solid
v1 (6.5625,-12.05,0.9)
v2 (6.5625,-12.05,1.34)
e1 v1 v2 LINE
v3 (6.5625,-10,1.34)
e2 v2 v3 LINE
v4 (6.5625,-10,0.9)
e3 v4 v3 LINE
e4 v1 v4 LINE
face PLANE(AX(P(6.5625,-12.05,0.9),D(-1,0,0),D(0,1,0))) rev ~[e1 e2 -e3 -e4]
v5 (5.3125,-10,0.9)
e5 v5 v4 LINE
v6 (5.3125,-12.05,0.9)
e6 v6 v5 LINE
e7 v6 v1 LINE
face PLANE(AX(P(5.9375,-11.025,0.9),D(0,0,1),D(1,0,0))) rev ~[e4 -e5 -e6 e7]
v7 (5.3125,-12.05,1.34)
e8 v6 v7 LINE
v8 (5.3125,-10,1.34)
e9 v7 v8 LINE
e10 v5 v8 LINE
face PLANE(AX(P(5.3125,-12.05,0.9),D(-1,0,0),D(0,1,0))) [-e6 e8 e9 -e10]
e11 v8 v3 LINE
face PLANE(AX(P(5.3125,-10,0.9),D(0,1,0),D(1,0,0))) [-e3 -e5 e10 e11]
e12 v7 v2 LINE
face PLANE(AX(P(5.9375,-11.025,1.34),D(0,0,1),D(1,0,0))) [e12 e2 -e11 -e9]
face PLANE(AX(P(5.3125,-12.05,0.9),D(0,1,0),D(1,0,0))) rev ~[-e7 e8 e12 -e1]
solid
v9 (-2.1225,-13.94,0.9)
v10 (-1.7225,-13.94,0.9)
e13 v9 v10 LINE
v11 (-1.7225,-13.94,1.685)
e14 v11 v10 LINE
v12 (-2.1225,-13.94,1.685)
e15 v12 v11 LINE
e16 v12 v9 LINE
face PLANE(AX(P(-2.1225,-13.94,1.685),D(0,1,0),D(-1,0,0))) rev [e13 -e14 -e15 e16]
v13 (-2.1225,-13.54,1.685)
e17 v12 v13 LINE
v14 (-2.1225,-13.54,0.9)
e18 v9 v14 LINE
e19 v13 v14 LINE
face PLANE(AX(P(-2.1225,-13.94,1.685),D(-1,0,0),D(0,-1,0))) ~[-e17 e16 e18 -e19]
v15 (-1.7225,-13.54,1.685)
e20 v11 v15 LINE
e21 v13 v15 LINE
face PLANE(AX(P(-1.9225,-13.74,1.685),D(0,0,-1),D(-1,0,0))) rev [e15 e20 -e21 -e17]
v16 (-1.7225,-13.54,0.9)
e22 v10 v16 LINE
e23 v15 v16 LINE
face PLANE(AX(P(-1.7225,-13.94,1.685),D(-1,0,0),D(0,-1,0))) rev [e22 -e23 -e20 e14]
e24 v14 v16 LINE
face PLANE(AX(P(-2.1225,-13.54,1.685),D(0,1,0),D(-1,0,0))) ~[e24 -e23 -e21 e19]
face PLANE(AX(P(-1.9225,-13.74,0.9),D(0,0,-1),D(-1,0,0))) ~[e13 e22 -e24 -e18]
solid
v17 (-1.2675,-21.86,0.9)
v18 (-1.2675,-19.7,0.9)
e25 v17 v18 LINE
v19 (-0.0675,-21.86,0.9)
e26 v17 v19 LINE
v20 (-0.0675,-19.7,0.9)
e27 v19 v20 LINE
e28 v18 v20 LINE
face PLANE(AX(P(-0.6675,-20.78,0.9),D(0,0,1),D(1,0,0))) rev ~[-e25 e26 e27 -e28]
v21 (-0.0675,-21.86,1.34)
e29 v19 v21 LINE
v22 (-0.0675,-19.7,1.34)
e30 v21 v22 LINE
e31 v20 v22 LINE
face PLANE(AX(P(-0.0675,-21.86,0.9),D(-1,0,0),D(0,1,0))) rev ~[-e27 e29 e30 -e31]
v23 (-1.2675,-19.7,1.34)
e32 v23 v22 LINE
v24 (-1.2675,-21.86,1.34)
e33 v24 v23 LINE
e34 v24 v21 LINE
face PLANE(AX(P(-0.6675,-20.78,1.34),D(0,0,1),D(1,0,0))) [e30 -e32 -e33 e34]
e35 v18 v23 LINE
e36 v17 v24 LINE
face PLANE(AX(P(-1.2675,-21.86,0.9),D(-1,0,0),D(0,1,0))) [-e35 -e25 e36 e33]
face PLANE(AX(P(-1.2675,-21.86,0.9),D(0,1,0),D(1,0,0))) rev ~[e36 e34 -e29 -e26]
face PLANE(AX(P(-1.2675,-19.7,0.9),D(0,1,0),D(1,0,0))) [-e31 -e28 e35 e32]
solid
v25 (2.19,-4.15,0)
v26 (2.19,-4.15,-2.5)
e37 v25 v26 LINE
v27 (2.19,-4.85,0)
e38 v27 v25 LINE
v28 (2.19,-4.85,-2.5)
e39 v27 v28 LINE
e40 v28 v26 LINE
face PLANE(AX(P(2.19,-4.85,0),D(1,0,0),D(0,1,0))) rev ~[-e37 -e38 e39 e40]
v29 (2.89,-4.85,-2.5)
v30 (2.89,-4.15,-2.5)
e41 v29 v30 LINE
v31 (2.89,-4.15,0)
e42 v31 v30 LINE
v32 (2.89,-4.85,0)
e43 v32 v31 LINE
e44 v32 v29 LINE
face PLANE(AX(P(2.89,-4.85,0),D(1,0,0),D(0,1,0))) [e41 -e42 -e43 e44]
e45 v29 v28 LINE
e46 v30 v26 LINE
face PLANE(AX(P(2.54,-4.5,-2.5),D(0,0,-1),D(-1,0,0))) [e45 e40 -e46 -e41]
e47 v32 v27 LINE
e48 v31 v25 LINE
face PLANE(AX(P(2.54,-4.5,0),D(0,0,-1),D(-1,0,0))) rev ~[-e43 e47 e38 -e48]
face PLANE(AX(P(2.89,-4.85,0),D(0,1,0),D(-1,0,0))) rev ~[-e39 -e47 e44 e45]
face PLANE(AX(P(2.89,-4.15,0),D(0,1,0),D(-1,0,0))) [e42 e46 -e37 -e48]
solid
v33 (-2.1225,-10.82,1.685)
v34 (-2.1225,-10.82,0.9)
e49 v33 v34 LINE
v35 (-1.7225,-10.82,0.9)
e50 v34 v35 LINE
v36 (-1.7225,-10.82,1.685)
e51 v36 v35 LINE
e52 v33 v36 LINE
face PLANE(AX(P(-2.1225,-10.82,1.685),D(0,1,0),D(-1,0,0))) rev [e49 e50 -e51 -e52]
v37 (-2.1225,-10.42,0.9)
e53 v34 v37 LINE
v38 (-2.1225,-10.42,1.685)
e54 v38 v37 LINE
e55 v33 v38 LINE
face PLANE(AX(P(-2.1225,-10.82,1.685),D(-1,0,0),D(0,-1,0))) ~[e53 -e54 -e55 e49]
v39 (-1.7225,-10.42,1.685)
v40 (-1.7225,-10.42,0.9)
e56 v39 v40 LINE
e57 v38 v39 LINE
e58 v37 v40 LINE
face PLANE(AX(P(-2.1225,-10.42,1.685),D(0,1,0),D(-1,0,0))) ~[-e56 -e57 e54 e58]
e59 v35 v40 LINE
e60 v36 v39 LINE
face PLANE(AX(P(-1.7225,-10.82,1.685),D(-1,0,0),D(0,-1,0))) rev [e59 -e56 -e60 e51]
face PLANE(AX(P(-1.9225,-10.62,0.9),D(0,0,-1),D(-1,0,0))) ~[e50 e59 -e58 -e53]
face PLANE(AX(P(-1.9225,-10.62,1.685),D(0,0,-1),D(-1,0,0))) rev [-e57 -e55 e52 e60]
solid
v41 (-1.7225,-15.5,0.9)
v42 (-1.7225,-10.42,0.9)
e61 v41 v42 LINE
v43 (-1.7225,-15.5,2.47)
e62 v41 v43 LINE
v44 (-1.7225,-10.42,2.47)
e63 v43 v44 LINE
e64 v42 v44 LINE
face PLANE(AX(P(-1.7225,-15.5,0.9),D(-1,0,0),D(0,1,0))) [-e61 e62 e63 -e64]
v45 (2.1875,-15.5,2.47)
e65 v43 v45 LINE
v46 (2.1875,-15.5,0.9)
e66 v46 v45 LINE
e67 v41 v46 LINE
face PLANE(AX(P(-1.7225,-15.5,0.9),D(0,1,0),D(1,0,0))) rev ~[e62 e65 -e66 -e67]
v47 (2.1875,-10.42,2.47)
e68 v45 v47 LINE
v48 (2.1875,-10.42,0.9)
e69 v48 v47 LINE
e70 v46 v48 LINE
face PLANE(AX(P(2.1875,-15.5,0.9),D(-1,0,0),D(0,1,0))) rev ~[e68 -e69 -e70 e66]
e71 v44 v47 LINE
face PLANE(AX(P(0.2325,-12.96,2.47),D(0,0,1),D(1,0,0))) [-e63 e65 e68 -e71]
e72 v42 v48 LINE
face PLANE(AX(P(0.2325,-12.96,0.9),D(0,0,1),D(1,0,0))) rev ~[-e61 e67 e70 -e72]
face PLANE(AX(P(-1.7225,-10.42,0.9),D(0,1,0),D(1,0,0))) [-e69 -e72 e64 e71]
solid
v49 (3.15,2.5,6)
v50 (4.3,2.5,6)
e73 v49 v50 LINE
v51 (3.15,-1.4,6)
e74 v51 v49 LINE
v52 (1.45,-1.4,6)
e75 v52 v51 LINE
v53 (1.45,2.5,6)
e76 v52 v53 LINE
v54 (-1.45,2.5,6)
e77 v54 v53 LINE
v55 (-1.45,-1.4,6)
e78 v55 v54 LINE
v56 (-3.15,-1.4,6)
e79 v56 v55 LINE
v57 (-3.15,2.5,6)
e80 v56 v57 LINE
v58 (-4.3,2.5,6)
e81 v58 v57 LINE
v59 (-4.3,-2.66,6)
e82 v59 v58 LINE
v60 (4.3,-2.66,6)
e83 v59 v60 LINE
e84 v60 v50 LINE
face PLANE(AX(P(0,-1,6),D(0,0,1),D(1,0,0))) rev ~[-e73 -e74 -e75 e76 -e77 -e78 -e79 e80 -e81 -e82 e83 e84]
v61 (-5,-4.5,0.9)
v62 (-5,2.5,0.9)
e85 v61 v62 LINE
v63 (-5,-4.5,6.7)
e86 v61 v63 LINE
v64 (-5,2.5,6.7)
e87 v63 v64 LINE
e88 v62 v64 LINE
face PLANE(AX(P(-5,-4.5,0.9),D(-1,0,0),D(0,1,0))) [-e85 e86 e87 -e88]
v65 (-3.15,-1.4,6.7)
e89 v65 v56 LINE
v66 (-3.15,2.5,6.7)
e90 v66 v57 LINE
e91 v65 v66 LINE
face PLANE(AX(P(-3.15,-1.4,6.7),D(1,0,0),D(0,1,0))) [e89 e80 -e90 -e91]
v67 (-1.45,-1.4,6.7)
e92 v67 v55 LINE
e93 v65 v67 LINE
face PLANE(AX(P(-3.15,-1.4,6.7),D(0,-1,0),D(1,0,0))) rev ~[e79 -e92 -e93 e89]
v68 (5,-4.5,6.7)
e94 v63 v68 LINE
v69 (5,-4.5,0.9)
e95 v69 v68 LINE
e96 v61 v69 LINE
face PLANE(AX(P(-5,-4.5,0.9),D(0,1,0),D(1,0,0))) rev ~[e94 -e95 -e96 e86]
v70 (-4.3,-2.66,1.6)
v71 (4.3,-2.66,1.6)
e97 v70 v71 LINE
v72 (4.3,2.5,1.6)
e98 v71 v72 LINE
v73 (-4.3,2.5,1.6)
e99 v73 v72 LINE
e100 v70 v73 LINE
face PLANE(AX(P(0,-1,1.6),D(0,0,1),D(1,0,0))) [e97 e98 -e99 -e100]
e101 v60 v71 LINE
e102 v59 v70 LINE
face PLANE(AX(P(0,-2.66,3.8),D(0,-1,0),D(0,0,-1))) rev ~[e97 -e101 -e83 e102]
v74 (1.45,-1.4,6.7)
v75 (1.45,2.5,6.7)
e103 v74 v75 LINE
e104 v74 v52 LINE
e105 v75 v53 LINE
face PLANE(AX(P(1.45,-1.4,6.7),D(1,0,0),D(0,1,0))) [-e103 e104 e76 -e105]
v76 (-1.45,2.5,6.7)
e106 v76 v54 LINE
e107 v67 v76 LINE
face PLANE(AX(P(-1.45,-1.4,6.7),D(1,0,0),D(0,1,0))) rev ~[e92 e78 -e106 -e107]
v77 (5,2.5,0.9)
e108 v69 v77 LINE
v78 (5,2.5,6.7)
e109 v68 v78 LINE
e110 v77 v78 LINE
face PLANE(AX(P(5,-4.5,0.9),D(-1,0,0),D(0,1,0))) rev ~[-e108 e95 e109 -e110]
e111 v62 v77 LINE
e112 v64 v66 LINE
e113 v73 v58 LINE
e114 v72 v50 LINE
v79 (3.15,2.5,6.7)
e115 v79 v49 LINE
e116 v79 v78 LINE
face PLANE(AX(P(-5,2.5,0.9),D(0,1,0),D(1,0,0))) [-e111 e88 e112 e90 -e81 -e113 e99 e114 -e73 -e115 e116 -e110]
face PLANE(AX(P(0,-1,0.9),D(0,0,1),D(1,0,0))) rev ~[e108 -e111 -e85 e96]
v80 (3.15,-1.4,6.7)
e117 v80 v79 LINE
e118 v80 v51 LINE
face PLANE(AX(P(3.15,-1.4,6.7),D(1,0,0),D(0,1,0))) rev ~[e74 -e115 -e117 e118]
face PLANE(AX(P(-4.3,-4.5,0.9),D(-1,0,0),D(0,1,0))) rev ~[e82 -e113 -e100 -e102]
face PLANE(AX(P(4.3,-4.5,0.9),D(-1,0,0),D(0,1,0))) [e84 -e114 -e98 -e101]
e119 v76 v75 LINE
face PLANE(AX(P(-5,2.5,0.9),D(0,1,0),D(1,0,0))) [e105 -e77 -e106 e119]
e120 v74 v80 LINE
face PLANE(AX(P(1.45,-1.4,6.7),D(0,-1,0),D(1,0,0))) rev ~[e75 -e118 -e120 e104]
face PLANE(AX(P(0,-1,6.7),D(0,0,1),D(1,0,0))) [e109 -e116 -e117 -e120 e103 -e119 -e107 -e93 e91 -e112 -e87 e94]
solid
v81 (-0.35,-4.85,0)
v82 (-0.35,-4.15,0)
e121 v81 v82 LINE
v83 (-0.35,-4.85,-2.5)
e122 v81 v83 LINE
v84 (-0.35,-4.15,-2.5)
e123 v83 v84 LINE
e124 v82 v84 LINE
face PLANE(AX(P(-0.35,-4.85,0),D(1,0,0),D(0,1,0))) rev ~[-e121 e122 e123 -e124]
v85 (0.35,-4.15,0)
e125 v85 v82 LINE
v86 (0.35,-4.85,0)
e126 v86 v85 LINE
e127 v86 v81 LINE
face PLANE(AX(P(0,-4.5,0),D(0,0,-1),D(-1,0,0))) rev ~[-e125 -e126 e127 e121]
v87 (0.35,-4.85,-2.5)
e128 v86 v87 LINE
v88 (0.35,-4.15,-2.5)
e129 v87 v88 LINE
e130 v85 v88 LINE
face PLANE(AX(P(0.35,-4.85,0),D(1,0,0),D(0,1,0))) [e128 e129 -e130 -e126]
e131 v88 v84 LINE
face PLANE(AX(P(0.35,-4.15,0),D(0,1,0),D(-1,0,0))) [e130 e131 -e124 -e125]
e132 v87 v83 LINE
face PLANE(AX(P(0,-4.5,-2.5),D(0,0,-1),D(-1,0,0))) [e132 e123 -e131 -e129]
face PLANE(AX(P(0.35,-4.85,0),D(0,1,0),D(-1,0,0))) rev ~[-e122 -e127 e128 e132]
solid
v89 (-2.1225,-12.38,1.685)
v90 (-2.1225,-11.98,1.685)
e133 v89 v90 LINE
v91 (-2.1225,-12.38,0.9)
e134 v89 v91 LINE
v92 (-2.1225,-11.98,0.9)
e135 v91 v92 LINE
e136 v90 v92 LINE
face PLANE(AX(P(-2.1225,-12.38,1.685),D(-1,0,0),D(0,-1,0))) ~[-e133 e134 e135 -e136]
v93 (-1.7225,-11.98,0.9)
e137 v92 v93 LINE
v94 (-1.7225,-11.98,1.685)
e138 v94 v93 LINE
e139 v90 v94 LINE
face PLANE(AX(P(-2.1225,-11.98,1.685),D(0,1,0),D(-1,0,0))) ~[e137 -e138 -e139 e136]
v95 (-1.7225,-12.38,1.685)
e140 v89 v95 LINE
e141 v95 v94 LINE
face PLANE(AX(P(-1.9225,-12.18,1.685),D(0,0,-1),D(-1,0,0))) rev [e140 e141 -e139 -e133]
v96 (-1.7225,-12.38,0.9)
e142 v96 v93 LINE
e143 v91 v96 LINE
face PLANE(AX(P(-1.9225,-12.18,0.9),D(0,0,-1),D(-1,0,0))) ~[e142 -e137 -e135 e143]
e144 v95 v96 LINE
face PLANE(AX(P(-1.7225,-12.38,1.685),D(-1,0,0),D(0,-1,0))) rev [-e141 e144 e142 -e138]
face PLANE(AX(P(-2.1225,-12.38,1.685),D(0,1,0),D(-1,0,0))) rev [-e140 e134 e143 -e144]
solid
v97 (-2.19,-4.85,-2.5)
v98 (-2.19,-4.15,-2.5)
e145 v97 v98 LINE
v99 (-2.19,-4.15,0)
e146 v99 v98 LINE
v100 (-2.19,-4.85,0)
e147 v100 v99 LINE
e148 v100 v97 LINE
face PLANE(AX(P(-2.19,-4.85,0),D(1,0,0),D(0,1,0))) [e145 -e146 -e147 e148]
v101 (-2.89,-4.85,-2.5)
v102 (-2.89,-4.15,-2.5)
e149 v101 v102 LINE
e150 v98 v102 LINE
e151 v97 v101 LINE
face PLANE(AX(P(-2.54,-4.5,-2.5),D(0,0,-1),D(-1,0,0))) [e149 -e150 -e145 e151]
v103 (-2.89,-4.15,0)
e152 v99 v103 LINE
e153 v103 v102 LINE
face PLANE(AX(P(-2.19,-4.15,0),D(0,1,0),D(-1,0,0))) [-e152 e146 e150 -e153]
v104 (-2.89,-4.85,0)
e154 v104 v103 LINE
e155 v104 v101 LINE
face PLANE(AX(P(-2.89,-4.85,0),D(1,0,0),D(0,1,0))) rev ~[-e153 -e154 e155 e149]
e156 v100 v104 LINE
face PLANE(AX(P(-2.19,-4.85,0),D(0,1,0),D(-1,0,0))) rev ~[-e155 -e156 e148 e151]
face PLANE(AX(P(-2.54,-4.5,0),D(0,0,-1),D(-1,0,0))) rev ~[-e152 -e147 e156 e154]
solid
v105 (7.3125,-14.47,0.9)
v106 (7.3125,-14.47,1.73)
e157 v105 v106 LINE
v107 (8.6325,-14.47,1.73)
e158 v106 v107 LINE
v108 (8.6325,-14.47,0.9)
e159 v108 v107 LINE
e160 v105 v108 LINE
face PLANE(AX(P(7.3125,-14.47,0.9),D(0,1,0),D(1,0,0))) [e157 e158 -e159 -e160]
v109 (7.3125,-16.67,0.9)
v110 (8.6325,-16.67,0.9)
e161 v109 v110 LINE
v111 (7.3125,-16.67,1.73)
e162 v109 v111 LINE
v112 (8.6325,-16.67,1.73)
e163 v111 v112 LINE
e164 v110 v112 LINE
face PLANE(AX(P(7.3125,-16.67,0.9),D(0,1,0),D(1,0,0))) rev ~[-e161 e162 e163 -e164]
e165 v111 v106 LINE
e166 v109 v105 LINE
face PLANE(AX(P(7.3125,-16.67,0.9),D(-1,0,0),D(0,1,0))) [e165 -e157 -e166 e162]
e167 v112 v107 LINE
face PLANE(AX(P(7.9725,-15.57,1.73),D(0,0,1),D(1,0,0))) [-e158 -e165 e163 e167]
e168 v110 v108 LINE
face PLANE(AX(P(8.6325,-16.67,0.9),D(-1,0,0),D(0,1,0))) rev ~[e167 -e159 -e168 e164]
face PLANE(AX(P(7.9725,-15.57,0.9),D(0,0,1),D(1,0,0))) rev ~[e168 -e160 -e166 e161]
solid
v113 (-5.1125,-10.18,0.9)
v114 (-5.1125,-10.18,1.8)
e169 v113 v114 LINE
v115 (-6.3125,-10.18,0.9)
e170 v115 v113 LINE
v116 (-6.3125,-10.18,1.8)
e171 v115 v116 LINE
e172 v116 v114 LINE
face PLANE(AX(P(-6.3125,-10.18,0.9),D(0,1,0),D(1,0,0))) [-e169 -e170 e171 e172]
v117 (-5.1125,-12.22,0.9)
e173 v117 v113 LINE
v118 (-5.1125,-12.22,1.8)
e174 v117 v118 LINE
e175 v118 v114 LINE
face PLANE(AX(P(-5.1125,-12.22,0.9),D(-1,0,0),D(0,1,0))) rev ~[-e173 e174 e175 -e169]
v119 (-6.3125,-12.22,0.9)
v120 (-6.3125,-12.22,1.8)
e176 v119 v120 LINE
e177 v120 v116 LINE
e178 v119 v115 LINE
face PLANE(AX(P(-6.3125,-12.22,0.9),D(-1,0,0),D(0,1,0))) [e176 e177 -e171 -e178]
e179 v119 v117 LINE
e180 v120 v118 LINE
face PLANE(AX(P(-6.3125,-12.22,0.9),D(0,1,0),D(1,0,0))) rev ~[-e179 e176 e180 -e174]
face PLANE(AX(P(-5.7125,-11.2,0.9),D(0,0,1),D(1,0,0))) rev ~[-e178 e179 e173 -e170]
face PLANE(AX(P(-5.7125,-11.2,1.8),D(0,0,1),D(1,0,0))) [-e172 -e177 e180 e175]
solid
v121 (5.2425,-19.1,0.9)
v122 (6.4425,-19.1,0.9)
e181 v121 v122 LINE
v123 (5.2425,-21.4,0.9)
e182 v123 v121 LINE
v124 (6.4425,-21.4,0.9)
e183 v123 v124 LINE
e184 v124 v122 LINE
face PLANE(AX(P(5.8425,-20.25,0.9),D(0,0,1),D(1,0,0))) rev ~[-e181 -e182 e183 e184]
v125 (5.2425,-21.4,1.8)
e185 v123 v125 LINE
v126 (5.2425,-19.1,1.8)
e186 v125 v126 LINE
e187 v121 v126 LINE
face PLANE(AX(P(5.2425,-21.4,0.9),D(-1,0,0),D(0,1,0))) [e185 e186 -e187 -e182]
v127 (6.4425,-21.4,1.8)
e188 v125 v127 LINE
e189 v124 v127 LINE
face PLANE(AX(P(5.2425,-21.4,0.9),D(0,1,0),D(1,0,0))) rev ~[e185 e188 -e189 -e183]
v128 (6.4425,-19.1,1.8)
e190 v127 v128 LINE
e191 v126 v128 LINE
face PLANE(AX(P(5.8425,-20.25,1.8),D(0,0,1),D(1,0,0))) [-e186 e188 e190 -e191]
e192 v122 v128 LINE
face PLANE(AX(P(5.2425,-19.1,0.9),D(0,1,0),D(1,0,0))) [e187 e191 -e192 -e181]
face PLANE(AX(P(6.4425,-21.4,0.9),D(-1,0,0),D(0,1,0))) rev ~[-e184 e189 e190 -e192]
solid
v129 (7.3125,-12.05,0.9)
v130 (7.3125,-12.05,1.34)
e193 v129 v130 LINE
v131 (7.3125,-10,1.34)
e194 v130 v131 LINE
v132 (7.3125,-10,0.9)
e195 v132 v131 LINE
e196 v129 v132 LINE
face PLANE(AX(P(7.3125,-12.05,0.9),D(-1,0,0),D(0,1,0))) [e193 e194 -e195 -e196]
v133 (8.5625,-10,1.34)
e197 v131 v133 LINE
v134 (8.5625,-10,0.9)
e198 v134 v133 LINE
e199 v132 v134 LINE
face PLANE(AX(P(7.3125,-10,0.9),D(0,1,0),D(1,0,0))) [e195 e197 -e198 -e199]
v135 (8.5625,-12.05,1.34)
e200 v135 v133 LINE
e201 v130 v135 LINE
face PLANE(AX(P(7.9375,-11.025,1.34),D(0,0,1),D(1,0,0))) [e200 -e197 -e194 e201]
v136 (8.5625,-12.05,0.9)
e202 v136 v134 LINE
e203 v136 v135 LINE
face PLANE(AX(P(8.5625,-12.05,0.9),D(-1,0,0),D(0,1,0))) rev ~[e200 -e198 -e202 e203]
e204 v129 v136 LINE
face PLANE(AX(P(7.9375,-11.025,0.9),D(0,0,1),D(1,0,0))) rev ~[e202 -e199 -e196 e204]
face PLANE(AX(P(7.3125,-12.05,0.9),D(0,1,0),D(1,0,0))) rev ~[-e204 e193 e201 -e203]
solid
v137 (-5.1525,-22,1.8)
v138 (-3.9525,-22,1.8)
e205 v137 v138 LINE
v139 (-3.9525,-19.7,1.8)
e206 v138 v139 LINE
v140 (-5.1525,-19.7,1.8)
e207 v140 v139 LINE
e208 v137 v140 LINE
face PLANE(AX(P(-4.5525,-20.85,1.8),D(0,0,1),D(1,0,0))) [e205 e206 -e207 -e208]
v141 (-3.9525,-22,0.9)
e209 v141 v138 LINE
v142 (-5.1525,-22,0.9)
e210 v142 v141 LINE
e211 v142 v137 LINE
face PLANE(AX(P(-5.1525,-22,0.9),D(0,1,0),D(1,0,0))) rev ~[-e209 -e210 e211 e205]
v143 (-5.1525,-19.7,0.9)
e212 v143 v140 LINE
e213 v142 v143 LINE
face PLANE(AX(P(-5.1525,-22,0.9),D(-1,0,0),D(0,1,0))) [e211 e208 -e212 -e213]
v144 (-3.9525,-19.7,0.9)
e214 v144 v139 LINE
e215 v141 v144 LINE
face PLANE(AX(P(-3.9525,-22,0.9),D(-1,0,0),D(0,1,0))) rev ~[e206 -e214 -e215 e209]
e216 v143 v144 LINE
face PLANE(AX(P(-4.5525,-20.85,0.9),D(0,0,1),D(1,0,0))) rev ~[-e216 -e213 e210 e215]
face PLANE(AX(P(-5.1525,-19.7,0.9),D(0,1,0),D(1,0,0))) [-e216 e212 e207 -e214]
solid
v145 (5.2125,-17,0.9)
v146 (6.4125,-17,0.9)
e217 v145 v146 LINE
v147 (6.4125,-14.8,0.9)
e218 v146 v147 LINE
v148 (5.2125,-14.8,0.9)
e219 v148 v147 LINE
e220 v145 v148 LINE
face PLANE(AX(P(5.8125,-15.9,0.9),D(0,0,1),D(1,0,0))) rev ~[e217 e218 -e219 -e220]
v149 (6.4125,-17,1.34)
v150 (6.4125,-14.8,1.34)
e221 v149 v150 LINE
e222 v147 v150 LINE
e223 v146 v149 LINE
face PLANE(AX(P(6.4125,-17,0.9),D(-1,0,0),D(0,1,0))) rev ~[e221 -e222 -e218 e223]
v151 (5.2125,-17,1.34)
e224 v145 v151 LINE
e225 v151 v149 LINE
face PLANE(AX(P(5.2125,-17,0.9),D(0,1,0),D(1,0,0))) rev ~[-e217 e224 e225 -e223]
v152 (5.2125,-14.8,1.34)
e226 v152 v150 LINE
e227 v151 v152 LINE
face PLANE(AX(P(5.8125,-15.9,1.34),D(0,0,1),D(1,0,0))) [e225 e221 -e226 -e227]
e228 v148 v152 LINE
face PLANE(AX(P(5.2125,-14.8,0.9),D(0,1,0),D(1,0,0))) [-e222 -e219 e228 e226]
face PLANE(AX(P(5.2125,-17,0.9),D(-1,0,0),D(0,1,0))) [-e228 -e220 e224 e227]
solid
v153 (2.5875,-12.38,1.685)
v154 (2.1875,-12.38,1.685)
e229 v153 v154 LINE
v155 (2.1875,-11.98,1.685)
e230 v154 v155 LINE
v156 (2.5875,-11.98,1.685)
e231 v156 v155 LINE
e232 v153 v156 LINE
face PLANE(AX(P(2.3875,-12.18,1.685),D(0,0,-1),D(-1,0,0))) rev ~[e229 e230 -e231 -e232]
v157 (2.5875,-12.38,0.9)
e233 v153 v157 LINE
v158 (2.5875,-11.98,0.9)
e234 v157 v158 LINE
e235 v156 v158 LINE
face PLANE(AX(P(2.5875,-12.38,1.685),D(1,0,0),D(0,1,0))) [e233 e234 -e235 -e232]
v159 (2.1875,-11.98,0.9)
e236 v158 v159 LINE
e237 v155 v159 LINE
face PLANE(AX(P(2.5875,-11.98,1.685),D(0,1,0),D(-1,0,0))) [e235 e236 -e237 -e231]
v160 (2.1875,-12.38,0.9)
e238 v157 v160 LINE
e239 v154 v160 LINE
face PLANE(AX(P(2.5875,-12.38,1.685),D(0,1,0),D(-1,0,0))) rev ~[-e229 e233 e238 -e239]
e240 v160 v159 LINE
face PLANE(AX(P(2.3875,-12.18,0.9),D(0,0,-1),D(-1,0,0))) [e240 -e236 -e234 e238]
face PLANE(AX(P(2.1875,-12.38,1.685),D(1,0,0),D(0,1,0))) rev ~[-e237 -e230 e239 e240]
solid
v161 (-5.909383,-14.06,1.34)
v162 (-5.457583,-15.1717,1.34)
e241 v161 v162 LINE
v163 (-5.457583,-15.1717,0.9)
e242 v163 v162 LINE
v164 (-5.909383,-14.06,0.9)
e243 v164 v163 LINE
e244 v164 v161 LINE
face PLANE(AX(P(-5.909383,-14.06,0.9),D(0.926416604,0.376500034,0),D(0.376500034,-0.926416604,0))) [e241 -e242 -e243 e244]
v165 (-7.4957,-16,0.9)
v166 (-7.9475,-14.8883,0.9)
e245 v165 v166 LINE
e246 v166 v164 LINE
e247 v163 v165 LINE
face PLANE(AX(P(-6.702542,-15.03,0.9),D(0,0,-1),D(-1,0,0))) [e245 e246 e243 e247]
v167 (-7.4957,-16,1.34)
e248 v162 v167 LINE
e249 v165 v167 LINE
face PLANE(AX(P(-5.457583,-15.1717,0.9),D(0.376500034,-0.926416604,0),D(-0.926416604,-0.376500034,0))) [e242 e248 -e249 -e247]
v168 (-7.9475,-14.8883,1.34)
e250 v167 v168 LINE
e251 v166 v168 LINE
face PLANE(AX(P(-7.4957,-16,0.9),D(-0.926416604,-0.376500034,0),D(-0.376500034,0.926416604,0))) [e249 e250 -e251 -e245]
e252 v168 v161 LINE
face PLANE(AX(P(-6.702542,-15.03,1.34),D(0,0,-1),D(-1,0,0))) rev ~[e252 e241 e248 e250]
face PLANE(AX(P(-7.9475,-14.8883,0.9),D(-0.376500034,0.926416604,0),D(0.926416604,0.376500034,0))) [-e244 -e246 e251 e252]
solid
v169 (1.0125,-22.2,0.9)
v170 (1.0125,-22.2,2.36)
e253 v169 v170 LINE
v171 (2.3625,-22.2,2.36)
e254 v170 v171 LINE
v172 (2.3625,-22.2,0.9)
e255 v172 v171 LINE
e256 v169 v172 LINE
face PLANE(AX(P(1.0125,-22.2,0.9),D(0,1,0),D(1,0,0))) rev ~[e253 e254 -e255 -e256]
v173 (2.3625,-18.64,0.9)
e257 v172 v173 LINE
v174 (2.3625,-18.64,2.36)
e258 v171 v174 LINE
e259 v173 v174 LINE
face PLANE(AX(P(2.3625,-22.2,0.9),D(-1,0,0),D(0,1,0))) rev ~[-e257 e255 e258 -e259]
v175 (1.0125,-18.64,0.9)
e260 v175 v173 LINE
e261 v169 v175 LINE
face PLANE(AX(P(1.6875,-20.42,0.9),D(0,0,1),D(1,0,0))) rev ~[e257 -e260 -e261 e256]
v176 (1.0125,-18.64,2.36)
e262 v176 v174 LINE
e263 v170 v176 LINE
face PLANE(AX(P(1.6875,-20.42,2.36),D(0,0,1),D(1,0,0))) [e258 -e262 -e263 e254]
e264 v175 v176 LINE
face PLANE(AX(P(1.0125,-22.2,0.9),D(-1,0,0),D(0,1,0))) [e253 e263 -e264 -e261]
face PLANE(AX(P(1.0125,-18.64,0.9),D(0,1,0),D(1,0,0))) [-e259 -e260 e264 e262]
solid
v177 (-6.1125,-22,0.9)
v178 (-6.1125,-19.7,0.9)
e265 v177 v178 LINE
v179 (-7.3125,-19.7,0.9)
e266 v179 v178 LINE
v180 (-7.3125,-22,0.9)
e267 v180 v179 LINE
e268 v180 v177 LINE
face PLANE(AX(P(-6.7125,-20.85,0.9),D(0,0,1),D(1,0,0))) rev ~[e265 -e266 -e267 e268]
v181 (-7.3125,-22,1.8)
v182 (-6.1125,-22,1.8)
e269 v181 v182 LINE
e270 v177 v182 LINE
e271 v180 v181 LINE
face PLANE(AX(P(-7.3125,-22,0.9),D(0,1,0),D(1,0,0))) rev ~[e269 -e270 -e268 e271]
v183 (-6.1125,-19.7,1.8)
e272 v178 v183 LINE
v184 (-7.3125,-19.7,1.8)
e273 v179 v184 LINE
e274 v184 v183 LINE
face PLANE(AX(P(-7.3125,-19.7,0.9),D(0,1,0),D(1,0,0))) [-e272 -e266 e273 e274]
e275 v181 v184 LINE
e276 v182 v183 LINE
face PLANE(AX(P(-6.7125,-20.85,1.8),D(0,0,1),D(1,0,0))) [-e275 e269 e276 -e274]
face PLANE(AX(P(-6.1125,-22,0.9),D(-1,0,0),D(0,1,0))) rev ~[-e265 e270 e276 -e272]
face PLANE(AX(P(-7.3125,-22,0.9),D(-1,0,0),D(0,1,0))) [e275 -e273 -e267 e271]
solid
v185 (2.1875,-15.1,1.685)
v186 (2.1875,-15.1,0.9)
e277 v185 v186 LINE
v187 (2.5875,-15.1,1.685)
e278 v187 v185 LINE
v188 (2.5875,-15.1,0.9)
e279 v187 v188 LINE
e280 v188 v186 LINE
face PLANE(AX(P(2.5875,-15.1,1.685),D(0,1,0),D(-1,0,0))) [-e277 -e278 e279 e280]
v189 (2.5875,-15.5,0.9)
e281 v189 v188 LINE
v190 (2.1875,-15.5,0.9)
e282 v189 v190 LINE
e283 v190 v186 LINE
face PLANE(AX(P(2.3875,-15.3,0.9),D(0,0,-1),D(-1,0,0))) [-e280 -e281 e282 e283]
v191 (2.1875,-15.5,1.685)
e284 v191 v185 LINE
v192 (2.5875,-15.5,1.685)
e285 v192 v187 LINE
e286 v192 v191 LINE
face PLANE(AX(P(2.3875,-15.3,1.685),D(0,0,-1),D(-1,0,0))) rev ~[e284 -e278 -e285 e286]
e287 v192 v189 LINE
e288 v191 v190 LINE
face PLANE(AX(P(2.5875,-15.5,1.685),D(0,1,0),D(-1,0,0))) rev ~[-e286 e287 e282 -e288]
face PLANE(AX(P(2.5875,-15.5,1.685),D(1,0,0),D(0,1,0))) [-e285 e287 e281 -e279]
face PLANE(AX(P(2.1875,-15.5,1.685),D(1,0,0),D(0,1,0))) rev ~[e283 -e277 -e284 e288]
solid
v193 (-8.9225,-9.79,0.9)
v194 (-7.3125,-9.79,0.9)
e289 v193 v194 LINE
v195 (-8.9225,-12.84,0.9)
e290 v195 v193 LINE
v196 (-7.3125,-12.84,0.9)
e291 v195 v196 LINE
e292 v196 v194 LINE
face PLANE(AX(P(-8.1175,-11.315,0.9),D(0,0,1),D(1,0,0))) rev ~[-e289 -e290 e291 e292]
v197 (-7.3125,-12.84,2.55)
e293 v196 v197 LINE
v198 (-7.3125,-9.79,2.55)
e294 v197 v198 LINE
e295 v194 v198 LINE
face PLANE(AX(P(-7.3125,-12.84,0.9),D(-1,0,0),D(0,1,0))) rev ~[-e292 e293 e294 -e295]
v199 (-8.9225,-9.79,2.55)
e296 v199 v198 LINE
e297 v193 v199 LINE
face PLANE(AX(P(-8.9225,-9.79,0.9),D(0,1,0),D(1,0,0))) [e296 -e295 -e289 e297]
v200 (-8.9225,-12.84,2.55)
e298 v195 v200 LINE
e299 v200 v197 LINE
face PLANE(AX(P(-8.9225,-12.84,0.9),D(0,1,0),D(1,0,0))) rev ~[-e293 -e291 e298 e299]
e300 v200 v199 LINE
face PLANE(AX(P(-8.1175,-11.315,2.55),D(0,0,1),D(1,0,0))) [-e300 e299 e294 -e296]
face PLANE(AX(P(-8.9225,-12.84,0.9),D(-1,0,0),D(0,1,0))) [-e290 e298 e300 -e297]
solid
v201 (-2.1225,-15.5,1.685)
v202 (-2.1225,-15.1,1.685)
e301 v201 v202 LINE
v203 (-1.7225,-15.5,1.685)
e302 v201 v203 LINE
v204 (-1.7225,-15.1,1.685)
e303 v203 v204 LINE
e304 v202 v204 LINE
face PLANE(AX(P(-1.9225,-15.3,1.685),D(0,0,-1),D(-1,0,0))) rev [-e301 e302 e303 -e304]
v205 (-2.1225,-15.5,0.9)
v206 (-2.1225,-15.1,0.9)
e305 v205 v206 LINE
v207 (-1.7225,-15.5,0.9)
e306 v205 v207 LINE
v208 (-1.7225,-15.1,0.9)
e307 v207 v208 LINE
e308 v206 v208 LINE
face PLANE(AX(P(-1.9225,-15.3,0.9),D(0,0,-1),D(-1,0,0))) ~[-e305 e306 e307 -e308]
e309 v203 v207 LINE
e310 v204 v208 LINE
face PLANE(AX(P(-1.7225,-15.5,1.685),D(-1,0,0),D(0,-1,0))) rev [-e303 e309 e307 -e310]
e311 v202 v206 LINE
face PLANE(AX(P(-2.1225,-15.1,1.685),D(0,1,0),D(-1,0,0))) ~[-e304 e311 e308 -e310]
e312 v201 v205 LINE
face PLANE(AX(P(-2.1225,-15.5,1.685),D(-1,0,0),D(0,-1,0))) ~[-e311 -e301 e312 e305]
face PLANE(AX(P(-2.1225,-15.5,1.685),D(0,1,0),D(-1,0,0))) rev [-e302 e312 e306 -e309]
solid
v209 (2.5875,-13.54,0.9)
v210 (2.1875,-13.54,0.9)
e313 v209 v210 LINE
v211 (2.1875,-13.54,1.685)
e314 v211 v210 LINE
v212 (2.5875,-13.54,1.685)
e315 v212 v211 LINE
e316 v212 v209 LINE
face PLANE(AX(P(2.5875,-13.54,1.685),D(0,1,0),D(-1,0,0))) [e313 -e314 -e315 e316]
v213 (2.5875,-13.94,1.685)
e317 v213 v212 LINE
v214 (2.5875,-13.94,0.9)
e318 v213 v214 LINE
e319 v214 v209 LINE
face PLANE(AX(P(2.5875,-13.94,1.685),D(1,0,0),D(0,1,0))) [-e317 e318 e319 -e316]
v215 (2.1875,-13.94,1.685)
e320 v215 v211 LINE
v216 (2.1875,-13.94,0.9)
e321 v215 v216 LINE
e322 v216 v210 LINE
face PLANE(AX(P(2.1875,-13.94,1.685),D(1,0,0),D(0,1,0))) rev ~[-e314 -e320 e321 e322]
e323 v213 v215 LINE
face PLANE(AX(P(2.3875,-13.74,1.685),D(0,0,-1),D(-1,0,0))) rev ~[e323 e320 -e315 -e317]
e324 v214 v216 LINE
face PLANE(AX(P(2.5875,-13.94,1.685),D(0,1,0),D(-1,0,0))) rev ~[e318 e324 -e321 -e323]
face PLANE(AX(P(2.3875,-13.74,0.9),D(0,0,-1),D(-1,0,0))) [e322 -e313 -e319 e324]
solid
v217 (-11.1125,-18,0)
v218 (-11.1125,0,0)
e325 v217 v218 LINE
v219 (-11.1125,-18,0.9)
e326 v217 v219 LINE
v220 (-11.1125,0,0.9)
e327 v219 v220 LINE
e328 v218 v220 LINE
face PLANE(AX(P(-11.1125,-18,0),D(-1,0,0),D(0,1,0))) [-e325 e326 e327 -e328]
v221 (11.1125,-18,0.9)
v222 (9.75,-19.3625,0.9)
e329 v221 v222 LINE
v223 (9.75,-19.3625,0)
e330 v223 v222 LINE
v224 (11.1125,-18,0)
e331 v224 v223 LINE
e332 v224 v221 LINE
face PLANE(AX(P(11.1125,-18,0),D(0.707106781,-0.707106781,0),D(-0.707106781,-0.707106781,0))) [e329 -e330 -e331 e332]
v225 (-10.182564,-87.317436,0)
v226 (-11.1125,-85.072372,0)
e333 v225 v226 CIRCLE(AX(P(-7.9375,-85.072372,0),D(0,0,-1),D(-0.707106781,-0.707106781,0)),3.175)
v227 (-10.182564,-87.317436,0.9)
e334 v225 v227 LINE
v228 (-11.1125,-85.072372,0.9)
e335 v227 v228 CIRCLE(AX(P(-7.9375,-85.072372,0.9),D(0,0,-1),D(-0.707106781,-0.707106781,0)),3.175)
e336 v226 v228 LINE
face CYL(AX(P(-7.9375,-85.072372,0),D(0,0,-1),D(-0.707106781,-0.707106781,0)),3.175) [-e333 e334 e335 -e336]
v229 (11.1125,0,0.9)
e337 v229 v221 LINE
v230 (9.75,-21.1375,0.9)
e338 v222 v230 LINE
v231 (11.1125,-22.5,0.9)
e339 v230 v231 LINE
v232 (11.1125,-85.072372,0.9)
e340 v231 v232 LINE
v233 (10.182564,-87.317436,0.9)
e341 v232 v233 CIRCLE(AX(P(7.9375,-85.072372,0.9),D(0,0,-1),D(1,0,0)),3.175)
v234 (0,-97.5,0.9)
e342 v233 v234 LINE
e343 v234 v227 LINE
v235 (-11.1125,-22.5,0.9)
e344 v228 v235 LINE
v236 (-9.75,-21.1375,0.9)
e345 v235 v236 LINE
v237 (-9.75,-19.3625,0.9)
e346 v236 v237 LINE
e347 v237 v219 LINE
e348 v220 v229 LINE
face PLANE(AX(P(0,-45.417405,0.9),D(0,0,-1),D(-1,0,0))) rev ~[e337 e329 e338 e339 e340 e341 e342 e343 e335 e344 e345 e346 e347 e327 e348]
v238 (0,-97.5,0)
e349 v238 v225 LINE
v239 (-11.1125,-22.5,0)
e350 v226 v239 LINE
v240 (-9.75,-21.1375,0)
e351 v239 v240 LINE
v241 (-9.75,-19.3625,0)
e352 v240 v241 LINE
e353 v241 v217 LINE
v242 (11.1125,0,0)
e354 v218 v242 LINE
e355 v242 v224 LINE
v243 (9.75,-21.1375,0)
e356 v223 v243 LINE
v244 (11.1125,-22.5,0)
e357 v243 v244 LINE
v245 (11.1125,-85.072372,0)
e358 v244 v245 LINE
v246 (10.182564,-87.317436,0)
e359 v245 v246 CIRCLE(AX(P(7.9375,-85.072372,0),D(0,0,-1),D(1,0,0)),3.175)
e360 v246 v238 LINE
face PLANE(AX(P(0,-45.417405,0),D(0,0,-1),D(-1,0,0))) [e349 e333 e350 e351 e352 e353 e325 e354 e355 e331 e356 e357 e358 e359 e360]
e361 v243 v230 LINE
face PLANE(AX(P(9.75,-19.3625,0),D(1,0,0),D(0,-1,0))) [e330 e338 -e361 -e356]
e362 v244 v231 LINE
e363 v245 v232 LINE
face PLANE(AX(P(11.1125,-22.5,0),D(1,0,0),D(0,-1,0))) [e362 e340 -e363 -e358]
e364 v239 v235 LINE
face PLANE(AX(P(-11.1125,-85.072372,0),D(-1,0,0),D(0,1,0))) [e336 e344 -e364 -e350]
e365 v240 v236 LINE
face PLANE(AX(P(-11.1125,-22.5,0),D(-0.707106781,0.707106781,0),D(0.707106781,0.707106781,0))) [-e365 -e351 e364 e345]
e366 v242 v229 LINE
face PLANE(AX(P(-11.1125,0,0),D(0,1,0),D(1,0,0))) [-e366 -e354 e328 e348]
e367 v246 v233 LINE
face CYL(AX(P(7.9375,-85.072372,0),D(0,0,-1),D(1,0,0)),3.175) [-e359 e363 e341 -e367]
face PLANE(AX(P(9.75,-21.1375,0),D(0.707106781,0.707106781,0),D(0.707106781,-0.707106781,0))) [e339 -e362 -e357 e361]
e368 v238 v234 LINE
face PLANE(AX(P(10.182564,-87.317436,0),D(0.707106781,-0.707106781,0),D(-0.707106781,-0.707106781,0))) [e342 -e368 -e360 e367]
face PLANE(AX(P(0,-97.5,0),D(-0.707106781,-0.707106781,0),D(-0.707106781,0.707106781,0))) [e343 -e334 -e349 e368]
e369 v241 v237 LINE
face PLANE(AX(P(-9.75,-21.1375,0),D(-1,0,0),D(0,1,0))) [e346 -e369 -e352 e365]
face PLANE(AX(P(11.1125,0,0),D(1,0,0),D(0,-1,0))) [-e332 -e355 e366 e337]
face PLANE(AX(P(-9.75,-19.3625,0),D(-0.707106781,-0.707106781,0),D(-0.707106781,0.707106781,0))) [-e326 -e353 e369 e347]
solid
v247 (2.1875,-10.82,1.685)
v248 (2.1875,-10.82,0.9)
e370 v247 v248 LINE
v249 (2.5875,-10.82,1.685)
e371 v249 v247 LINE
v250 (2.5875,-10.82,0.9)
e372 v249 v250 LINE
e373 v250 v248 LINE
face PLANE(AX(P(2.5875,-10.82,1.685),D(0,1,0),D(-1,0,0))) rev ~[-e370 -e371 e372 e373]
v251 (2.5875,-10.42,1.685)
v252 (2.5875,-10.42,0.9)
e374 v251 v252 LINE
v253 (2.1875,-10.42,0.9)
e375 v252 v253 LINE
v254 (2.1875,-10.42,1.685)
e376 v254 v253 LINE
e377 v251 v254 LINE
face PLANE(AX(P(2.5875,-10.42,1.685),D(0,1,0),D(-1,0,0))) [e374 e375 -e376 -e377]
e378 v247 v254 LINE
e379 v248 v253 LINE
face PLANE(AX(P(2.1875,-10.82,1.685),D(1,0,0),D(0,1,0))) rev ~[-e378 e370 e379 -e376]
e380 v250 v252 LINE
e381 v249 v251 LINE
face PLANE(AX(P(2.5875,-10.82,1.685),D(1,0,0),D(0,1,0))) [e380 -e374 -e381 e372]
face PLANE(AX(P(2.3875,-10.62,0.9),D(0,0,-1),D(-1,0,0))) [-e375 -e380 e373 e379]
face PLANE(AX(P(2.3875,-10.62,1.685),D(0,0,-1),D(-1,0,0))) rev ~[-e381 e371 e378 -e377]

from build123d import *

# Parameters (mm, degrees)
BOSS_EXTRUDE1_DEPTH       = 0.9
SKETCH2_W                 = 3.91
SKETCH2_H                 = 5.08
BOSS_EXTRUDE2_DEPTH       = 1.57
SKETCH2_3_W               = 1.25
SKETCH2_3_H               = 2.05
BOSS_EXTRUDE3_DEPTH       = 0.44
BOSS_EXTRUDE3_2_DEPTH     = 0.44
SKETCH2_3_W_2             = 1.2
SKETCH2_3_H_2             = 2.2
BOSS_EXTRUDE3_3_DEPTH     = 0.44
BOSS_EXTRUDE3_4_DEPTH     = 0.44
SKETCH2_3_H_3             = 2.16
BOSS_EXTRUDE3_5_DEPTH     = 0.44
SKETCH2_4_W               = 1.61
SKETCH2_4_H               = 3.05
BOSS_EXTRUDE4_DEPTH       = 1.65
SKETCH2_5_W               = 1.2
SKETCH2_5_H               = 2.3
BOSS_EXTRUDE5_DEPTH       = 0.9
BOSS_EXTRUDE5_2_DEPTH     = 0.9
SKETCH2_5_H_2             = 2.04
BOSS_EXTRUDE5_3_DEPTH     = 0.9
BOSS_EXTRUDE5_4_DEPTH     = 0.9
SKETCH2_6_W               = 1.35
SKETCH2_6_H               = 3.56
BOSS_EXTRUDE6_DEPTH       = 1.46
SKETCH2_7_W               = 1.32
SKETCH2_7_H               = 2.2
BOSS_EXTRUDE7_DEPTH       = 0.83
SKETCH4_W                 = 10
SKETCH4_H                 = 7
BOSS_EXTRUDE8_DEPTH       = 5.8
SHELL1_T                  = -0.7
SHELL1_THICKNESS_2_FACE_W = 4.4
SHELL1_THICKNESS_2_FACE_H = 8.6
SHELL1_THICKNESS_2_DEPTH  = 1.14
SKETCH5_W                 = 1.7
SKETCH5_H                 = 3.9
CUT_EXTRUDE1_DEPTH        = 0.7
SKETCH6_W                 = 0.7
SKETCH6_H                 = 0.7
BOSS_EXTRUDE9_DEPTH       = 2.5
BOSS_EXTRUDE9_2_DEPTH     = 2.5
BOSS_EXTRUDE9_3_DEPTH     = 2.5
SKETCH7_W                 = 0.4
SKETCH7_H                 = 0.4
BOSS_EXTRUDE10_DEPTH      = 0.785
BOSS_EXTRUDE10_2_DEPTH    = 0.785
BOSS_EXTRUDE10_3_DEPTH    = 0.785
BOSS_EXTRUDE10_4_DEPTH    = 0.785


with BuildPart() as part:
    # Sketch1 → Boss-Extrude1 (new body)
    with BuildSketch(Plane.XY):
        with BuildLine():
            Line((-11.1125, 0), (11.1125, 0))
            Line((11.1125, 0), (11.1125, -18))
            Line((11.1125, -18), (9.75, -19.3625))
            Line((9.75, -19.3625), (9.75, -21.1375))
            Line((9.75, -21.1375), (11.1125, -22.5))
            Line((11.1125, -22.5), (11.1125, -85.072371939))
            ThreePointArc((11.1125, -85.072371939), (10.870817516, -86.287391837), (10.18256403, -87.31743597))
            Line((10.18256403, -87.31743597), (0, -97.5))
            Line((0, -97.5), (-10.18256403, -87.31743597))
            ThreePointArc((-10.18256403, -87.31743597), (-10.870817516, -86.287391837), (-11.1125, -85.072371939))
            Line((-11.1125, -85.072371939), (-11.1125, -22.5))
            Line((-11.1125, -22.5), (-9.75, -21.1375))
            Line((-9.75, -21.1375), (-9.75, -19.3625))
            Line((-9.75, -19.3625), (-11.1125, -18))
            Line((-11.1125, -18), (-11.1125, 0))
        make_face()
    extrude(amount=BOSS_EXTRUDE1_DEPTH)


with BuildPart() as body_2:
    # Sketch2 → Boss-Extrude2 (new body)
    with BuildSketch(Plane.XY.offset(0.9)):
        with Locations((0.2325, -12.96)):
            Rectangle(SKETCH2_W, SKETCH2_H)
    extrude(amount=BOSS_EXTRUDE2_DEPTH)


with BuildPart() as body_3:
    # Sketch2<3> → Boss-Extrude3 (new body)
    with BuildSketch(Plane.XY.offset(0.9)):
        with Locations((7.9375, -11.025)):
            Rectangle(SKETCH2_3_W, SKETCH2_3_H)
    extrude(amount=BOSS_EXTRUDE3_DEPTH)


with BuildPart() as body_4:
    # Sketch2<3> → Boss-Extrude3 2 (new body)
    with BuildSketch(Plane.XY.offset(0.9)):
        with Locations((5.9375, -11.025)):
            Rectangle(SKETCH2_3_W, SKETCH2_3_H)
    extrude(amount=BOSS_EXTRUDE3_2_DEPTH)


with BuildPart() as body_5:
    # Sketch2<3> → Boss-Extrude3 3 (new body)
    with BuildSketch(Plane.XY.offset(0.9)):
        with Locations((5.8125, -15.9)):
            Rectangle(SKETCH2_3_W_2, SKETCH2_3_H_2)
    extrude(amount=BOSS_EXTRUDE3_3_DEPTH)


with BuildPart() as body_6:
    # Sketch2<3> → Boss-Extrude3 4 (new body)
    with BuildSketch(Plane.XY.offset(0.9)):
        Polygon((-7.9475, -14.888300075), (-5.909383471, -14.06), (-5.45758343, -15.171699925), (-7.495699959, -16), align=None)
    extrude(amount=BOSS_EXTRUDE3_4_DEPTH)


with BuildPart() as body_7:
    # Sketch2<3> → Boss-Extrude3 5 (new body)
    with BuildSketch(Plane.XY.offset(0.9)):
        with Locations((-0.6675, -20.78)):
            Rectangle(SKETCH2_3_W_2, SKETCH2_3_H_3)
    extrude(amount=BOSS_EXTRUDE3_5_DEPTH)


with BuildPart() as body_8:
    # Sketch2<4> → Boss-Extrude4 (new body)
    with BuildSketch(Plane.XY.offset(0.9)):
        with Locations((-8.1175, -11.315)):
            Rectangle(SKETCH2_4_W, SKETCH2_4_H)
    extrude(amount=BOSS_EXTRUDE4_DEPTH)


with BuildPart() as body_9:
    # Sketch2<5> → Boss-Extrude5 (new body)
    with BuildSketch(Plane.XY.offset(0.9)):
        with Locations((-6.7125, -20.85)):
            Rectangle(SKETCH2_5_W, SKETCH2_5_H)
    extrude(amount=BOSS_EXTRUDE5_DEPTH)


with BuildPart() as body_10:
    # Sketch2<5> → Boss-Extrude5 2 (new body)
    with BuildSketch(Plane.XY.offset(0.9)):
        with Locations((-4.5525, -20.85)):
            Rectangle(SKETCH2_5_W, SKETCH2_5_H)
    extrude(amount=BOSS_EXTRUDE5_2_DEPTH)


with BuildPart() as body_11:
    # Sketch2<5> → Boss-Extrude5 3 (new body)
    with BuildSketch(Plane.XY.offset(0.9)):
        with Locations((-5.7125, -11.2)):
            Rectangle(SKETCH2_5_W, SKETCH2_5_H_2)
    extrude(amount=BOSS_EXTRUDE5_3_DEPTH)


with BuildPart() as body_12:
    # Sketch2<5> → Boss-Extrude5 4 (new body)
    with BuildSketch(Plane.XY.offset(0.9)):
        with Locations((5.8425, -20.25)):
            Rectangle(SKETCH2_5_W, SKETCH2_5_H)
    extrude(amount=BOSS_EXTRUDE5_4_DEPTH)


with BuildPart() as body_13:
    # Sketch2<6> → Boss-Extrude6 (new body)
    with BuildSketch(Plane.XY.offset(0.9)):
        with Locations((1.6875, -20.42)):
            Rectangle(SKETCH2_6_W, SKETCH2_6_H)
    extrude(amount=BOSS_EXTRUDE6_DEPTH)


with BuildPart() as body_14:
    # Sketch2<7> → Boss-Extrude7 (new body)
    with BuildSketch(Plane.XY.offset(0.9)):
        with Locations((7.9725, -15.57)):
            Rectangle(SKETCH2_7_W, SKETCH2_7_H)
    extrude(amount=BOSS_EXTRUDE7_DEPTH)


with BuildPart() as body_15:
    # Sketch4 → Boss-Extrude8 (new body)
    with BuildSketch(Plane.XY.offset(0.9)):
        with Locations((0, -1)):
            Rectangle(SKETCH4_W, SKETCH4_H)
    extrude(amount=BOSS_EXTRUDE8_DEPTH)

    # Shell1
    shell1_openings = [body_15.faces().sort_by_distance(p)[0] for p in [
        (0, 2.5, 3.8),
    ]]
    offset(amount=SHELL1_T, openings=shell1_openings, kind=Kind.INTERSECTION)

    # Shell1 thickness 2 face (on inner face of the shell) → Shell1 thickness 2 (add)
    with BuildSketch(Plane(origin=(0, -3.8, 3.8), x_dir=(0, 0, -1), z_dir=(0, -1, 0))):
        Rectangle(SHELL1_THICKNESS_2_FACE_W, SHELL1_THICKNESS_2_FACE_H)
    extrude(amount=-SHELL1_THICKNESS_2_DEPTH)

    # Sketch5 → Cut-Extrude1 (cut)
    with BuildSketch(Plane.XY.offset(6.7)):
        with Locations((-2.3, 0.55)):
            Rectangle(SKETCH5_W, SKETCH5_H)
        with Locations((2.3, 0.55)):
            Rectangle(SKETCH5_W, SKETCH5_H)
    extrude(amount=-CUT_EXTRUDE1_DEPTH, mode=Mode.SUBTRACT)


with BuildPart() as body_16:
    # Sketch6 → Boss-Extrude9 (new body)
    with BuildSketch(Plane(origin=(0, 0, 0), x_dir=(-1, 0, 0), z_dir=(0, 0, -1))):
        with Locations((-2.54, -4.5)):
            Rectangle(SKETCH6_W, SKETCH6_H)
    extrude(amount=BOSS_EXTRUDE9_DEPTH)


with BuildPart() as body_17:
    # Sketch6 → Boss-Extrude9 2 (new body)
    with BuildSketch(Plane(origin=(0, 0, 0), x_dir=(-1, 0, 0), z_dir=(0, 0, -1))):
        with Locations((0, -4.5)):
            Rectangle(SKETCH6_W, SKETCH6_H)
    extrude(amount=BOSS_EXTRUDE9_2_DEPTH)


with BuildPart() as body_18:
    # Sketch6 → Boss-Extrude9 3 (new body)
    with BuildSketch(Plane(origin=(0, 0, 0), x_dir=(-1, 0, 0), z_dir=(0, 0, -1))):
        with Locations((2.54, -4.5)):
            Rectangle(SKETCH6_W, SKETCH6_H)
    extrude(amount=BOSS_EXTRUDE9_3_DEPTH)


with BuildPart() as body_19:
    # Sketch7 → Boss-Extrude10 (new body)
    with BuildSketch(Plane(origin=(0, 0, 1.685), x_dir=(-1, 0, 0), z_dir=(0, 0, -1))):
        with Locations((-2.3875, -15.3)):
            Rectangle(SKETCH7_W, SKETCH7_H)
    extrude(amount=BOSS_EXTRUDE10_DEPTH)


with BuildPart() as body_20:
    # Sketch7 → Boss-Extrude10 2 (new body)
    with BuildSketch(Plane(origin=(0, 0, 1.685), x_dir=(-1, 0, 0), z_dir=(0, 0, -1))):
        with Locations((-2.3875, -13.74)):
            Rectangle(SKETCH7_W, SKETCH7_H)
    extrude(amount=BOSS_EXTRUDE10_2_DEPTH)


with BuildPart() as body_21:
    # Sketch7 → Boss-Extrude10 3 (new body)
    with BuildSketch(Plane(origin=(0, 0, 1.685), x_dir=(-1, 0, 0), z_dir=(0, 0, -1))):
        with Locations((-2.3875, -12.18)):
            Rectangle(SKETCH7_W, SKETCH7_H)
    extrude(amount=BOSS_EXTRUDE10_3_DEPTH)


with BuildPart() as body_22:
    # Sketch7 → Boss-Extrude10 4 (new body)
    with BuildSketch(Plane(origin=(0, 0, 1.685), x_dir=(-1, 0, 0), z_dir=(0, 0, -1))):
        with Locations((-2.3875, -10.62)):
            Rectangle(SKETCH7_W, SKETCH7_H)
    extrude(amount=BOSS_EXTRUDE10_4_DEPTH)


with BuildPart() as body_23:
    # Mirror1: mirrored copy
    add(body_19.part.mirror(Plane(origin=(0.2325, 0, 0), x_dir=(0, 0, 1), z_dir=(1, 0, 0))))


with BuildPart() as body_24:
    # Mirror1 2: mirrored copy
    add(body_20.part.mirror(Plane(origin=(0.2325, 0, 0), x_dir=(0, 0, 1), z_dir=(1, 0, 0))))


with BuildPart() as body_25:
    # Mirror1 3: mirrored copy
    add(body_21.part.mirror(Plane(origin=(0.2325, 0, 0), x_dir=(0, 0, 1), z_dir=(1, 0, 0))))


with BuildPart() as body_26:
    # Mirror1 4: mirrored copy
    add(body_22.part.mirror(Plane(origin=(0.2325, 0, 0), x_dir=(0, 0, 1), z_dir=(1, 0, 0))))


solid = Compound([part.part, body_2.part, body_3.part, body_4.part, body_5.part, body_6.part, body_7.part, body_8.part, body_9.part, body_10.part, body_11.part, body_12.part, body_13.part, body_14.part, body_15.part, body_16.part, body_17.part, body_18.part, body_19.part, body_20.part, body_21.part, body_22.part, body_23.part, body_24.part, body_25.part, body_26.part])
